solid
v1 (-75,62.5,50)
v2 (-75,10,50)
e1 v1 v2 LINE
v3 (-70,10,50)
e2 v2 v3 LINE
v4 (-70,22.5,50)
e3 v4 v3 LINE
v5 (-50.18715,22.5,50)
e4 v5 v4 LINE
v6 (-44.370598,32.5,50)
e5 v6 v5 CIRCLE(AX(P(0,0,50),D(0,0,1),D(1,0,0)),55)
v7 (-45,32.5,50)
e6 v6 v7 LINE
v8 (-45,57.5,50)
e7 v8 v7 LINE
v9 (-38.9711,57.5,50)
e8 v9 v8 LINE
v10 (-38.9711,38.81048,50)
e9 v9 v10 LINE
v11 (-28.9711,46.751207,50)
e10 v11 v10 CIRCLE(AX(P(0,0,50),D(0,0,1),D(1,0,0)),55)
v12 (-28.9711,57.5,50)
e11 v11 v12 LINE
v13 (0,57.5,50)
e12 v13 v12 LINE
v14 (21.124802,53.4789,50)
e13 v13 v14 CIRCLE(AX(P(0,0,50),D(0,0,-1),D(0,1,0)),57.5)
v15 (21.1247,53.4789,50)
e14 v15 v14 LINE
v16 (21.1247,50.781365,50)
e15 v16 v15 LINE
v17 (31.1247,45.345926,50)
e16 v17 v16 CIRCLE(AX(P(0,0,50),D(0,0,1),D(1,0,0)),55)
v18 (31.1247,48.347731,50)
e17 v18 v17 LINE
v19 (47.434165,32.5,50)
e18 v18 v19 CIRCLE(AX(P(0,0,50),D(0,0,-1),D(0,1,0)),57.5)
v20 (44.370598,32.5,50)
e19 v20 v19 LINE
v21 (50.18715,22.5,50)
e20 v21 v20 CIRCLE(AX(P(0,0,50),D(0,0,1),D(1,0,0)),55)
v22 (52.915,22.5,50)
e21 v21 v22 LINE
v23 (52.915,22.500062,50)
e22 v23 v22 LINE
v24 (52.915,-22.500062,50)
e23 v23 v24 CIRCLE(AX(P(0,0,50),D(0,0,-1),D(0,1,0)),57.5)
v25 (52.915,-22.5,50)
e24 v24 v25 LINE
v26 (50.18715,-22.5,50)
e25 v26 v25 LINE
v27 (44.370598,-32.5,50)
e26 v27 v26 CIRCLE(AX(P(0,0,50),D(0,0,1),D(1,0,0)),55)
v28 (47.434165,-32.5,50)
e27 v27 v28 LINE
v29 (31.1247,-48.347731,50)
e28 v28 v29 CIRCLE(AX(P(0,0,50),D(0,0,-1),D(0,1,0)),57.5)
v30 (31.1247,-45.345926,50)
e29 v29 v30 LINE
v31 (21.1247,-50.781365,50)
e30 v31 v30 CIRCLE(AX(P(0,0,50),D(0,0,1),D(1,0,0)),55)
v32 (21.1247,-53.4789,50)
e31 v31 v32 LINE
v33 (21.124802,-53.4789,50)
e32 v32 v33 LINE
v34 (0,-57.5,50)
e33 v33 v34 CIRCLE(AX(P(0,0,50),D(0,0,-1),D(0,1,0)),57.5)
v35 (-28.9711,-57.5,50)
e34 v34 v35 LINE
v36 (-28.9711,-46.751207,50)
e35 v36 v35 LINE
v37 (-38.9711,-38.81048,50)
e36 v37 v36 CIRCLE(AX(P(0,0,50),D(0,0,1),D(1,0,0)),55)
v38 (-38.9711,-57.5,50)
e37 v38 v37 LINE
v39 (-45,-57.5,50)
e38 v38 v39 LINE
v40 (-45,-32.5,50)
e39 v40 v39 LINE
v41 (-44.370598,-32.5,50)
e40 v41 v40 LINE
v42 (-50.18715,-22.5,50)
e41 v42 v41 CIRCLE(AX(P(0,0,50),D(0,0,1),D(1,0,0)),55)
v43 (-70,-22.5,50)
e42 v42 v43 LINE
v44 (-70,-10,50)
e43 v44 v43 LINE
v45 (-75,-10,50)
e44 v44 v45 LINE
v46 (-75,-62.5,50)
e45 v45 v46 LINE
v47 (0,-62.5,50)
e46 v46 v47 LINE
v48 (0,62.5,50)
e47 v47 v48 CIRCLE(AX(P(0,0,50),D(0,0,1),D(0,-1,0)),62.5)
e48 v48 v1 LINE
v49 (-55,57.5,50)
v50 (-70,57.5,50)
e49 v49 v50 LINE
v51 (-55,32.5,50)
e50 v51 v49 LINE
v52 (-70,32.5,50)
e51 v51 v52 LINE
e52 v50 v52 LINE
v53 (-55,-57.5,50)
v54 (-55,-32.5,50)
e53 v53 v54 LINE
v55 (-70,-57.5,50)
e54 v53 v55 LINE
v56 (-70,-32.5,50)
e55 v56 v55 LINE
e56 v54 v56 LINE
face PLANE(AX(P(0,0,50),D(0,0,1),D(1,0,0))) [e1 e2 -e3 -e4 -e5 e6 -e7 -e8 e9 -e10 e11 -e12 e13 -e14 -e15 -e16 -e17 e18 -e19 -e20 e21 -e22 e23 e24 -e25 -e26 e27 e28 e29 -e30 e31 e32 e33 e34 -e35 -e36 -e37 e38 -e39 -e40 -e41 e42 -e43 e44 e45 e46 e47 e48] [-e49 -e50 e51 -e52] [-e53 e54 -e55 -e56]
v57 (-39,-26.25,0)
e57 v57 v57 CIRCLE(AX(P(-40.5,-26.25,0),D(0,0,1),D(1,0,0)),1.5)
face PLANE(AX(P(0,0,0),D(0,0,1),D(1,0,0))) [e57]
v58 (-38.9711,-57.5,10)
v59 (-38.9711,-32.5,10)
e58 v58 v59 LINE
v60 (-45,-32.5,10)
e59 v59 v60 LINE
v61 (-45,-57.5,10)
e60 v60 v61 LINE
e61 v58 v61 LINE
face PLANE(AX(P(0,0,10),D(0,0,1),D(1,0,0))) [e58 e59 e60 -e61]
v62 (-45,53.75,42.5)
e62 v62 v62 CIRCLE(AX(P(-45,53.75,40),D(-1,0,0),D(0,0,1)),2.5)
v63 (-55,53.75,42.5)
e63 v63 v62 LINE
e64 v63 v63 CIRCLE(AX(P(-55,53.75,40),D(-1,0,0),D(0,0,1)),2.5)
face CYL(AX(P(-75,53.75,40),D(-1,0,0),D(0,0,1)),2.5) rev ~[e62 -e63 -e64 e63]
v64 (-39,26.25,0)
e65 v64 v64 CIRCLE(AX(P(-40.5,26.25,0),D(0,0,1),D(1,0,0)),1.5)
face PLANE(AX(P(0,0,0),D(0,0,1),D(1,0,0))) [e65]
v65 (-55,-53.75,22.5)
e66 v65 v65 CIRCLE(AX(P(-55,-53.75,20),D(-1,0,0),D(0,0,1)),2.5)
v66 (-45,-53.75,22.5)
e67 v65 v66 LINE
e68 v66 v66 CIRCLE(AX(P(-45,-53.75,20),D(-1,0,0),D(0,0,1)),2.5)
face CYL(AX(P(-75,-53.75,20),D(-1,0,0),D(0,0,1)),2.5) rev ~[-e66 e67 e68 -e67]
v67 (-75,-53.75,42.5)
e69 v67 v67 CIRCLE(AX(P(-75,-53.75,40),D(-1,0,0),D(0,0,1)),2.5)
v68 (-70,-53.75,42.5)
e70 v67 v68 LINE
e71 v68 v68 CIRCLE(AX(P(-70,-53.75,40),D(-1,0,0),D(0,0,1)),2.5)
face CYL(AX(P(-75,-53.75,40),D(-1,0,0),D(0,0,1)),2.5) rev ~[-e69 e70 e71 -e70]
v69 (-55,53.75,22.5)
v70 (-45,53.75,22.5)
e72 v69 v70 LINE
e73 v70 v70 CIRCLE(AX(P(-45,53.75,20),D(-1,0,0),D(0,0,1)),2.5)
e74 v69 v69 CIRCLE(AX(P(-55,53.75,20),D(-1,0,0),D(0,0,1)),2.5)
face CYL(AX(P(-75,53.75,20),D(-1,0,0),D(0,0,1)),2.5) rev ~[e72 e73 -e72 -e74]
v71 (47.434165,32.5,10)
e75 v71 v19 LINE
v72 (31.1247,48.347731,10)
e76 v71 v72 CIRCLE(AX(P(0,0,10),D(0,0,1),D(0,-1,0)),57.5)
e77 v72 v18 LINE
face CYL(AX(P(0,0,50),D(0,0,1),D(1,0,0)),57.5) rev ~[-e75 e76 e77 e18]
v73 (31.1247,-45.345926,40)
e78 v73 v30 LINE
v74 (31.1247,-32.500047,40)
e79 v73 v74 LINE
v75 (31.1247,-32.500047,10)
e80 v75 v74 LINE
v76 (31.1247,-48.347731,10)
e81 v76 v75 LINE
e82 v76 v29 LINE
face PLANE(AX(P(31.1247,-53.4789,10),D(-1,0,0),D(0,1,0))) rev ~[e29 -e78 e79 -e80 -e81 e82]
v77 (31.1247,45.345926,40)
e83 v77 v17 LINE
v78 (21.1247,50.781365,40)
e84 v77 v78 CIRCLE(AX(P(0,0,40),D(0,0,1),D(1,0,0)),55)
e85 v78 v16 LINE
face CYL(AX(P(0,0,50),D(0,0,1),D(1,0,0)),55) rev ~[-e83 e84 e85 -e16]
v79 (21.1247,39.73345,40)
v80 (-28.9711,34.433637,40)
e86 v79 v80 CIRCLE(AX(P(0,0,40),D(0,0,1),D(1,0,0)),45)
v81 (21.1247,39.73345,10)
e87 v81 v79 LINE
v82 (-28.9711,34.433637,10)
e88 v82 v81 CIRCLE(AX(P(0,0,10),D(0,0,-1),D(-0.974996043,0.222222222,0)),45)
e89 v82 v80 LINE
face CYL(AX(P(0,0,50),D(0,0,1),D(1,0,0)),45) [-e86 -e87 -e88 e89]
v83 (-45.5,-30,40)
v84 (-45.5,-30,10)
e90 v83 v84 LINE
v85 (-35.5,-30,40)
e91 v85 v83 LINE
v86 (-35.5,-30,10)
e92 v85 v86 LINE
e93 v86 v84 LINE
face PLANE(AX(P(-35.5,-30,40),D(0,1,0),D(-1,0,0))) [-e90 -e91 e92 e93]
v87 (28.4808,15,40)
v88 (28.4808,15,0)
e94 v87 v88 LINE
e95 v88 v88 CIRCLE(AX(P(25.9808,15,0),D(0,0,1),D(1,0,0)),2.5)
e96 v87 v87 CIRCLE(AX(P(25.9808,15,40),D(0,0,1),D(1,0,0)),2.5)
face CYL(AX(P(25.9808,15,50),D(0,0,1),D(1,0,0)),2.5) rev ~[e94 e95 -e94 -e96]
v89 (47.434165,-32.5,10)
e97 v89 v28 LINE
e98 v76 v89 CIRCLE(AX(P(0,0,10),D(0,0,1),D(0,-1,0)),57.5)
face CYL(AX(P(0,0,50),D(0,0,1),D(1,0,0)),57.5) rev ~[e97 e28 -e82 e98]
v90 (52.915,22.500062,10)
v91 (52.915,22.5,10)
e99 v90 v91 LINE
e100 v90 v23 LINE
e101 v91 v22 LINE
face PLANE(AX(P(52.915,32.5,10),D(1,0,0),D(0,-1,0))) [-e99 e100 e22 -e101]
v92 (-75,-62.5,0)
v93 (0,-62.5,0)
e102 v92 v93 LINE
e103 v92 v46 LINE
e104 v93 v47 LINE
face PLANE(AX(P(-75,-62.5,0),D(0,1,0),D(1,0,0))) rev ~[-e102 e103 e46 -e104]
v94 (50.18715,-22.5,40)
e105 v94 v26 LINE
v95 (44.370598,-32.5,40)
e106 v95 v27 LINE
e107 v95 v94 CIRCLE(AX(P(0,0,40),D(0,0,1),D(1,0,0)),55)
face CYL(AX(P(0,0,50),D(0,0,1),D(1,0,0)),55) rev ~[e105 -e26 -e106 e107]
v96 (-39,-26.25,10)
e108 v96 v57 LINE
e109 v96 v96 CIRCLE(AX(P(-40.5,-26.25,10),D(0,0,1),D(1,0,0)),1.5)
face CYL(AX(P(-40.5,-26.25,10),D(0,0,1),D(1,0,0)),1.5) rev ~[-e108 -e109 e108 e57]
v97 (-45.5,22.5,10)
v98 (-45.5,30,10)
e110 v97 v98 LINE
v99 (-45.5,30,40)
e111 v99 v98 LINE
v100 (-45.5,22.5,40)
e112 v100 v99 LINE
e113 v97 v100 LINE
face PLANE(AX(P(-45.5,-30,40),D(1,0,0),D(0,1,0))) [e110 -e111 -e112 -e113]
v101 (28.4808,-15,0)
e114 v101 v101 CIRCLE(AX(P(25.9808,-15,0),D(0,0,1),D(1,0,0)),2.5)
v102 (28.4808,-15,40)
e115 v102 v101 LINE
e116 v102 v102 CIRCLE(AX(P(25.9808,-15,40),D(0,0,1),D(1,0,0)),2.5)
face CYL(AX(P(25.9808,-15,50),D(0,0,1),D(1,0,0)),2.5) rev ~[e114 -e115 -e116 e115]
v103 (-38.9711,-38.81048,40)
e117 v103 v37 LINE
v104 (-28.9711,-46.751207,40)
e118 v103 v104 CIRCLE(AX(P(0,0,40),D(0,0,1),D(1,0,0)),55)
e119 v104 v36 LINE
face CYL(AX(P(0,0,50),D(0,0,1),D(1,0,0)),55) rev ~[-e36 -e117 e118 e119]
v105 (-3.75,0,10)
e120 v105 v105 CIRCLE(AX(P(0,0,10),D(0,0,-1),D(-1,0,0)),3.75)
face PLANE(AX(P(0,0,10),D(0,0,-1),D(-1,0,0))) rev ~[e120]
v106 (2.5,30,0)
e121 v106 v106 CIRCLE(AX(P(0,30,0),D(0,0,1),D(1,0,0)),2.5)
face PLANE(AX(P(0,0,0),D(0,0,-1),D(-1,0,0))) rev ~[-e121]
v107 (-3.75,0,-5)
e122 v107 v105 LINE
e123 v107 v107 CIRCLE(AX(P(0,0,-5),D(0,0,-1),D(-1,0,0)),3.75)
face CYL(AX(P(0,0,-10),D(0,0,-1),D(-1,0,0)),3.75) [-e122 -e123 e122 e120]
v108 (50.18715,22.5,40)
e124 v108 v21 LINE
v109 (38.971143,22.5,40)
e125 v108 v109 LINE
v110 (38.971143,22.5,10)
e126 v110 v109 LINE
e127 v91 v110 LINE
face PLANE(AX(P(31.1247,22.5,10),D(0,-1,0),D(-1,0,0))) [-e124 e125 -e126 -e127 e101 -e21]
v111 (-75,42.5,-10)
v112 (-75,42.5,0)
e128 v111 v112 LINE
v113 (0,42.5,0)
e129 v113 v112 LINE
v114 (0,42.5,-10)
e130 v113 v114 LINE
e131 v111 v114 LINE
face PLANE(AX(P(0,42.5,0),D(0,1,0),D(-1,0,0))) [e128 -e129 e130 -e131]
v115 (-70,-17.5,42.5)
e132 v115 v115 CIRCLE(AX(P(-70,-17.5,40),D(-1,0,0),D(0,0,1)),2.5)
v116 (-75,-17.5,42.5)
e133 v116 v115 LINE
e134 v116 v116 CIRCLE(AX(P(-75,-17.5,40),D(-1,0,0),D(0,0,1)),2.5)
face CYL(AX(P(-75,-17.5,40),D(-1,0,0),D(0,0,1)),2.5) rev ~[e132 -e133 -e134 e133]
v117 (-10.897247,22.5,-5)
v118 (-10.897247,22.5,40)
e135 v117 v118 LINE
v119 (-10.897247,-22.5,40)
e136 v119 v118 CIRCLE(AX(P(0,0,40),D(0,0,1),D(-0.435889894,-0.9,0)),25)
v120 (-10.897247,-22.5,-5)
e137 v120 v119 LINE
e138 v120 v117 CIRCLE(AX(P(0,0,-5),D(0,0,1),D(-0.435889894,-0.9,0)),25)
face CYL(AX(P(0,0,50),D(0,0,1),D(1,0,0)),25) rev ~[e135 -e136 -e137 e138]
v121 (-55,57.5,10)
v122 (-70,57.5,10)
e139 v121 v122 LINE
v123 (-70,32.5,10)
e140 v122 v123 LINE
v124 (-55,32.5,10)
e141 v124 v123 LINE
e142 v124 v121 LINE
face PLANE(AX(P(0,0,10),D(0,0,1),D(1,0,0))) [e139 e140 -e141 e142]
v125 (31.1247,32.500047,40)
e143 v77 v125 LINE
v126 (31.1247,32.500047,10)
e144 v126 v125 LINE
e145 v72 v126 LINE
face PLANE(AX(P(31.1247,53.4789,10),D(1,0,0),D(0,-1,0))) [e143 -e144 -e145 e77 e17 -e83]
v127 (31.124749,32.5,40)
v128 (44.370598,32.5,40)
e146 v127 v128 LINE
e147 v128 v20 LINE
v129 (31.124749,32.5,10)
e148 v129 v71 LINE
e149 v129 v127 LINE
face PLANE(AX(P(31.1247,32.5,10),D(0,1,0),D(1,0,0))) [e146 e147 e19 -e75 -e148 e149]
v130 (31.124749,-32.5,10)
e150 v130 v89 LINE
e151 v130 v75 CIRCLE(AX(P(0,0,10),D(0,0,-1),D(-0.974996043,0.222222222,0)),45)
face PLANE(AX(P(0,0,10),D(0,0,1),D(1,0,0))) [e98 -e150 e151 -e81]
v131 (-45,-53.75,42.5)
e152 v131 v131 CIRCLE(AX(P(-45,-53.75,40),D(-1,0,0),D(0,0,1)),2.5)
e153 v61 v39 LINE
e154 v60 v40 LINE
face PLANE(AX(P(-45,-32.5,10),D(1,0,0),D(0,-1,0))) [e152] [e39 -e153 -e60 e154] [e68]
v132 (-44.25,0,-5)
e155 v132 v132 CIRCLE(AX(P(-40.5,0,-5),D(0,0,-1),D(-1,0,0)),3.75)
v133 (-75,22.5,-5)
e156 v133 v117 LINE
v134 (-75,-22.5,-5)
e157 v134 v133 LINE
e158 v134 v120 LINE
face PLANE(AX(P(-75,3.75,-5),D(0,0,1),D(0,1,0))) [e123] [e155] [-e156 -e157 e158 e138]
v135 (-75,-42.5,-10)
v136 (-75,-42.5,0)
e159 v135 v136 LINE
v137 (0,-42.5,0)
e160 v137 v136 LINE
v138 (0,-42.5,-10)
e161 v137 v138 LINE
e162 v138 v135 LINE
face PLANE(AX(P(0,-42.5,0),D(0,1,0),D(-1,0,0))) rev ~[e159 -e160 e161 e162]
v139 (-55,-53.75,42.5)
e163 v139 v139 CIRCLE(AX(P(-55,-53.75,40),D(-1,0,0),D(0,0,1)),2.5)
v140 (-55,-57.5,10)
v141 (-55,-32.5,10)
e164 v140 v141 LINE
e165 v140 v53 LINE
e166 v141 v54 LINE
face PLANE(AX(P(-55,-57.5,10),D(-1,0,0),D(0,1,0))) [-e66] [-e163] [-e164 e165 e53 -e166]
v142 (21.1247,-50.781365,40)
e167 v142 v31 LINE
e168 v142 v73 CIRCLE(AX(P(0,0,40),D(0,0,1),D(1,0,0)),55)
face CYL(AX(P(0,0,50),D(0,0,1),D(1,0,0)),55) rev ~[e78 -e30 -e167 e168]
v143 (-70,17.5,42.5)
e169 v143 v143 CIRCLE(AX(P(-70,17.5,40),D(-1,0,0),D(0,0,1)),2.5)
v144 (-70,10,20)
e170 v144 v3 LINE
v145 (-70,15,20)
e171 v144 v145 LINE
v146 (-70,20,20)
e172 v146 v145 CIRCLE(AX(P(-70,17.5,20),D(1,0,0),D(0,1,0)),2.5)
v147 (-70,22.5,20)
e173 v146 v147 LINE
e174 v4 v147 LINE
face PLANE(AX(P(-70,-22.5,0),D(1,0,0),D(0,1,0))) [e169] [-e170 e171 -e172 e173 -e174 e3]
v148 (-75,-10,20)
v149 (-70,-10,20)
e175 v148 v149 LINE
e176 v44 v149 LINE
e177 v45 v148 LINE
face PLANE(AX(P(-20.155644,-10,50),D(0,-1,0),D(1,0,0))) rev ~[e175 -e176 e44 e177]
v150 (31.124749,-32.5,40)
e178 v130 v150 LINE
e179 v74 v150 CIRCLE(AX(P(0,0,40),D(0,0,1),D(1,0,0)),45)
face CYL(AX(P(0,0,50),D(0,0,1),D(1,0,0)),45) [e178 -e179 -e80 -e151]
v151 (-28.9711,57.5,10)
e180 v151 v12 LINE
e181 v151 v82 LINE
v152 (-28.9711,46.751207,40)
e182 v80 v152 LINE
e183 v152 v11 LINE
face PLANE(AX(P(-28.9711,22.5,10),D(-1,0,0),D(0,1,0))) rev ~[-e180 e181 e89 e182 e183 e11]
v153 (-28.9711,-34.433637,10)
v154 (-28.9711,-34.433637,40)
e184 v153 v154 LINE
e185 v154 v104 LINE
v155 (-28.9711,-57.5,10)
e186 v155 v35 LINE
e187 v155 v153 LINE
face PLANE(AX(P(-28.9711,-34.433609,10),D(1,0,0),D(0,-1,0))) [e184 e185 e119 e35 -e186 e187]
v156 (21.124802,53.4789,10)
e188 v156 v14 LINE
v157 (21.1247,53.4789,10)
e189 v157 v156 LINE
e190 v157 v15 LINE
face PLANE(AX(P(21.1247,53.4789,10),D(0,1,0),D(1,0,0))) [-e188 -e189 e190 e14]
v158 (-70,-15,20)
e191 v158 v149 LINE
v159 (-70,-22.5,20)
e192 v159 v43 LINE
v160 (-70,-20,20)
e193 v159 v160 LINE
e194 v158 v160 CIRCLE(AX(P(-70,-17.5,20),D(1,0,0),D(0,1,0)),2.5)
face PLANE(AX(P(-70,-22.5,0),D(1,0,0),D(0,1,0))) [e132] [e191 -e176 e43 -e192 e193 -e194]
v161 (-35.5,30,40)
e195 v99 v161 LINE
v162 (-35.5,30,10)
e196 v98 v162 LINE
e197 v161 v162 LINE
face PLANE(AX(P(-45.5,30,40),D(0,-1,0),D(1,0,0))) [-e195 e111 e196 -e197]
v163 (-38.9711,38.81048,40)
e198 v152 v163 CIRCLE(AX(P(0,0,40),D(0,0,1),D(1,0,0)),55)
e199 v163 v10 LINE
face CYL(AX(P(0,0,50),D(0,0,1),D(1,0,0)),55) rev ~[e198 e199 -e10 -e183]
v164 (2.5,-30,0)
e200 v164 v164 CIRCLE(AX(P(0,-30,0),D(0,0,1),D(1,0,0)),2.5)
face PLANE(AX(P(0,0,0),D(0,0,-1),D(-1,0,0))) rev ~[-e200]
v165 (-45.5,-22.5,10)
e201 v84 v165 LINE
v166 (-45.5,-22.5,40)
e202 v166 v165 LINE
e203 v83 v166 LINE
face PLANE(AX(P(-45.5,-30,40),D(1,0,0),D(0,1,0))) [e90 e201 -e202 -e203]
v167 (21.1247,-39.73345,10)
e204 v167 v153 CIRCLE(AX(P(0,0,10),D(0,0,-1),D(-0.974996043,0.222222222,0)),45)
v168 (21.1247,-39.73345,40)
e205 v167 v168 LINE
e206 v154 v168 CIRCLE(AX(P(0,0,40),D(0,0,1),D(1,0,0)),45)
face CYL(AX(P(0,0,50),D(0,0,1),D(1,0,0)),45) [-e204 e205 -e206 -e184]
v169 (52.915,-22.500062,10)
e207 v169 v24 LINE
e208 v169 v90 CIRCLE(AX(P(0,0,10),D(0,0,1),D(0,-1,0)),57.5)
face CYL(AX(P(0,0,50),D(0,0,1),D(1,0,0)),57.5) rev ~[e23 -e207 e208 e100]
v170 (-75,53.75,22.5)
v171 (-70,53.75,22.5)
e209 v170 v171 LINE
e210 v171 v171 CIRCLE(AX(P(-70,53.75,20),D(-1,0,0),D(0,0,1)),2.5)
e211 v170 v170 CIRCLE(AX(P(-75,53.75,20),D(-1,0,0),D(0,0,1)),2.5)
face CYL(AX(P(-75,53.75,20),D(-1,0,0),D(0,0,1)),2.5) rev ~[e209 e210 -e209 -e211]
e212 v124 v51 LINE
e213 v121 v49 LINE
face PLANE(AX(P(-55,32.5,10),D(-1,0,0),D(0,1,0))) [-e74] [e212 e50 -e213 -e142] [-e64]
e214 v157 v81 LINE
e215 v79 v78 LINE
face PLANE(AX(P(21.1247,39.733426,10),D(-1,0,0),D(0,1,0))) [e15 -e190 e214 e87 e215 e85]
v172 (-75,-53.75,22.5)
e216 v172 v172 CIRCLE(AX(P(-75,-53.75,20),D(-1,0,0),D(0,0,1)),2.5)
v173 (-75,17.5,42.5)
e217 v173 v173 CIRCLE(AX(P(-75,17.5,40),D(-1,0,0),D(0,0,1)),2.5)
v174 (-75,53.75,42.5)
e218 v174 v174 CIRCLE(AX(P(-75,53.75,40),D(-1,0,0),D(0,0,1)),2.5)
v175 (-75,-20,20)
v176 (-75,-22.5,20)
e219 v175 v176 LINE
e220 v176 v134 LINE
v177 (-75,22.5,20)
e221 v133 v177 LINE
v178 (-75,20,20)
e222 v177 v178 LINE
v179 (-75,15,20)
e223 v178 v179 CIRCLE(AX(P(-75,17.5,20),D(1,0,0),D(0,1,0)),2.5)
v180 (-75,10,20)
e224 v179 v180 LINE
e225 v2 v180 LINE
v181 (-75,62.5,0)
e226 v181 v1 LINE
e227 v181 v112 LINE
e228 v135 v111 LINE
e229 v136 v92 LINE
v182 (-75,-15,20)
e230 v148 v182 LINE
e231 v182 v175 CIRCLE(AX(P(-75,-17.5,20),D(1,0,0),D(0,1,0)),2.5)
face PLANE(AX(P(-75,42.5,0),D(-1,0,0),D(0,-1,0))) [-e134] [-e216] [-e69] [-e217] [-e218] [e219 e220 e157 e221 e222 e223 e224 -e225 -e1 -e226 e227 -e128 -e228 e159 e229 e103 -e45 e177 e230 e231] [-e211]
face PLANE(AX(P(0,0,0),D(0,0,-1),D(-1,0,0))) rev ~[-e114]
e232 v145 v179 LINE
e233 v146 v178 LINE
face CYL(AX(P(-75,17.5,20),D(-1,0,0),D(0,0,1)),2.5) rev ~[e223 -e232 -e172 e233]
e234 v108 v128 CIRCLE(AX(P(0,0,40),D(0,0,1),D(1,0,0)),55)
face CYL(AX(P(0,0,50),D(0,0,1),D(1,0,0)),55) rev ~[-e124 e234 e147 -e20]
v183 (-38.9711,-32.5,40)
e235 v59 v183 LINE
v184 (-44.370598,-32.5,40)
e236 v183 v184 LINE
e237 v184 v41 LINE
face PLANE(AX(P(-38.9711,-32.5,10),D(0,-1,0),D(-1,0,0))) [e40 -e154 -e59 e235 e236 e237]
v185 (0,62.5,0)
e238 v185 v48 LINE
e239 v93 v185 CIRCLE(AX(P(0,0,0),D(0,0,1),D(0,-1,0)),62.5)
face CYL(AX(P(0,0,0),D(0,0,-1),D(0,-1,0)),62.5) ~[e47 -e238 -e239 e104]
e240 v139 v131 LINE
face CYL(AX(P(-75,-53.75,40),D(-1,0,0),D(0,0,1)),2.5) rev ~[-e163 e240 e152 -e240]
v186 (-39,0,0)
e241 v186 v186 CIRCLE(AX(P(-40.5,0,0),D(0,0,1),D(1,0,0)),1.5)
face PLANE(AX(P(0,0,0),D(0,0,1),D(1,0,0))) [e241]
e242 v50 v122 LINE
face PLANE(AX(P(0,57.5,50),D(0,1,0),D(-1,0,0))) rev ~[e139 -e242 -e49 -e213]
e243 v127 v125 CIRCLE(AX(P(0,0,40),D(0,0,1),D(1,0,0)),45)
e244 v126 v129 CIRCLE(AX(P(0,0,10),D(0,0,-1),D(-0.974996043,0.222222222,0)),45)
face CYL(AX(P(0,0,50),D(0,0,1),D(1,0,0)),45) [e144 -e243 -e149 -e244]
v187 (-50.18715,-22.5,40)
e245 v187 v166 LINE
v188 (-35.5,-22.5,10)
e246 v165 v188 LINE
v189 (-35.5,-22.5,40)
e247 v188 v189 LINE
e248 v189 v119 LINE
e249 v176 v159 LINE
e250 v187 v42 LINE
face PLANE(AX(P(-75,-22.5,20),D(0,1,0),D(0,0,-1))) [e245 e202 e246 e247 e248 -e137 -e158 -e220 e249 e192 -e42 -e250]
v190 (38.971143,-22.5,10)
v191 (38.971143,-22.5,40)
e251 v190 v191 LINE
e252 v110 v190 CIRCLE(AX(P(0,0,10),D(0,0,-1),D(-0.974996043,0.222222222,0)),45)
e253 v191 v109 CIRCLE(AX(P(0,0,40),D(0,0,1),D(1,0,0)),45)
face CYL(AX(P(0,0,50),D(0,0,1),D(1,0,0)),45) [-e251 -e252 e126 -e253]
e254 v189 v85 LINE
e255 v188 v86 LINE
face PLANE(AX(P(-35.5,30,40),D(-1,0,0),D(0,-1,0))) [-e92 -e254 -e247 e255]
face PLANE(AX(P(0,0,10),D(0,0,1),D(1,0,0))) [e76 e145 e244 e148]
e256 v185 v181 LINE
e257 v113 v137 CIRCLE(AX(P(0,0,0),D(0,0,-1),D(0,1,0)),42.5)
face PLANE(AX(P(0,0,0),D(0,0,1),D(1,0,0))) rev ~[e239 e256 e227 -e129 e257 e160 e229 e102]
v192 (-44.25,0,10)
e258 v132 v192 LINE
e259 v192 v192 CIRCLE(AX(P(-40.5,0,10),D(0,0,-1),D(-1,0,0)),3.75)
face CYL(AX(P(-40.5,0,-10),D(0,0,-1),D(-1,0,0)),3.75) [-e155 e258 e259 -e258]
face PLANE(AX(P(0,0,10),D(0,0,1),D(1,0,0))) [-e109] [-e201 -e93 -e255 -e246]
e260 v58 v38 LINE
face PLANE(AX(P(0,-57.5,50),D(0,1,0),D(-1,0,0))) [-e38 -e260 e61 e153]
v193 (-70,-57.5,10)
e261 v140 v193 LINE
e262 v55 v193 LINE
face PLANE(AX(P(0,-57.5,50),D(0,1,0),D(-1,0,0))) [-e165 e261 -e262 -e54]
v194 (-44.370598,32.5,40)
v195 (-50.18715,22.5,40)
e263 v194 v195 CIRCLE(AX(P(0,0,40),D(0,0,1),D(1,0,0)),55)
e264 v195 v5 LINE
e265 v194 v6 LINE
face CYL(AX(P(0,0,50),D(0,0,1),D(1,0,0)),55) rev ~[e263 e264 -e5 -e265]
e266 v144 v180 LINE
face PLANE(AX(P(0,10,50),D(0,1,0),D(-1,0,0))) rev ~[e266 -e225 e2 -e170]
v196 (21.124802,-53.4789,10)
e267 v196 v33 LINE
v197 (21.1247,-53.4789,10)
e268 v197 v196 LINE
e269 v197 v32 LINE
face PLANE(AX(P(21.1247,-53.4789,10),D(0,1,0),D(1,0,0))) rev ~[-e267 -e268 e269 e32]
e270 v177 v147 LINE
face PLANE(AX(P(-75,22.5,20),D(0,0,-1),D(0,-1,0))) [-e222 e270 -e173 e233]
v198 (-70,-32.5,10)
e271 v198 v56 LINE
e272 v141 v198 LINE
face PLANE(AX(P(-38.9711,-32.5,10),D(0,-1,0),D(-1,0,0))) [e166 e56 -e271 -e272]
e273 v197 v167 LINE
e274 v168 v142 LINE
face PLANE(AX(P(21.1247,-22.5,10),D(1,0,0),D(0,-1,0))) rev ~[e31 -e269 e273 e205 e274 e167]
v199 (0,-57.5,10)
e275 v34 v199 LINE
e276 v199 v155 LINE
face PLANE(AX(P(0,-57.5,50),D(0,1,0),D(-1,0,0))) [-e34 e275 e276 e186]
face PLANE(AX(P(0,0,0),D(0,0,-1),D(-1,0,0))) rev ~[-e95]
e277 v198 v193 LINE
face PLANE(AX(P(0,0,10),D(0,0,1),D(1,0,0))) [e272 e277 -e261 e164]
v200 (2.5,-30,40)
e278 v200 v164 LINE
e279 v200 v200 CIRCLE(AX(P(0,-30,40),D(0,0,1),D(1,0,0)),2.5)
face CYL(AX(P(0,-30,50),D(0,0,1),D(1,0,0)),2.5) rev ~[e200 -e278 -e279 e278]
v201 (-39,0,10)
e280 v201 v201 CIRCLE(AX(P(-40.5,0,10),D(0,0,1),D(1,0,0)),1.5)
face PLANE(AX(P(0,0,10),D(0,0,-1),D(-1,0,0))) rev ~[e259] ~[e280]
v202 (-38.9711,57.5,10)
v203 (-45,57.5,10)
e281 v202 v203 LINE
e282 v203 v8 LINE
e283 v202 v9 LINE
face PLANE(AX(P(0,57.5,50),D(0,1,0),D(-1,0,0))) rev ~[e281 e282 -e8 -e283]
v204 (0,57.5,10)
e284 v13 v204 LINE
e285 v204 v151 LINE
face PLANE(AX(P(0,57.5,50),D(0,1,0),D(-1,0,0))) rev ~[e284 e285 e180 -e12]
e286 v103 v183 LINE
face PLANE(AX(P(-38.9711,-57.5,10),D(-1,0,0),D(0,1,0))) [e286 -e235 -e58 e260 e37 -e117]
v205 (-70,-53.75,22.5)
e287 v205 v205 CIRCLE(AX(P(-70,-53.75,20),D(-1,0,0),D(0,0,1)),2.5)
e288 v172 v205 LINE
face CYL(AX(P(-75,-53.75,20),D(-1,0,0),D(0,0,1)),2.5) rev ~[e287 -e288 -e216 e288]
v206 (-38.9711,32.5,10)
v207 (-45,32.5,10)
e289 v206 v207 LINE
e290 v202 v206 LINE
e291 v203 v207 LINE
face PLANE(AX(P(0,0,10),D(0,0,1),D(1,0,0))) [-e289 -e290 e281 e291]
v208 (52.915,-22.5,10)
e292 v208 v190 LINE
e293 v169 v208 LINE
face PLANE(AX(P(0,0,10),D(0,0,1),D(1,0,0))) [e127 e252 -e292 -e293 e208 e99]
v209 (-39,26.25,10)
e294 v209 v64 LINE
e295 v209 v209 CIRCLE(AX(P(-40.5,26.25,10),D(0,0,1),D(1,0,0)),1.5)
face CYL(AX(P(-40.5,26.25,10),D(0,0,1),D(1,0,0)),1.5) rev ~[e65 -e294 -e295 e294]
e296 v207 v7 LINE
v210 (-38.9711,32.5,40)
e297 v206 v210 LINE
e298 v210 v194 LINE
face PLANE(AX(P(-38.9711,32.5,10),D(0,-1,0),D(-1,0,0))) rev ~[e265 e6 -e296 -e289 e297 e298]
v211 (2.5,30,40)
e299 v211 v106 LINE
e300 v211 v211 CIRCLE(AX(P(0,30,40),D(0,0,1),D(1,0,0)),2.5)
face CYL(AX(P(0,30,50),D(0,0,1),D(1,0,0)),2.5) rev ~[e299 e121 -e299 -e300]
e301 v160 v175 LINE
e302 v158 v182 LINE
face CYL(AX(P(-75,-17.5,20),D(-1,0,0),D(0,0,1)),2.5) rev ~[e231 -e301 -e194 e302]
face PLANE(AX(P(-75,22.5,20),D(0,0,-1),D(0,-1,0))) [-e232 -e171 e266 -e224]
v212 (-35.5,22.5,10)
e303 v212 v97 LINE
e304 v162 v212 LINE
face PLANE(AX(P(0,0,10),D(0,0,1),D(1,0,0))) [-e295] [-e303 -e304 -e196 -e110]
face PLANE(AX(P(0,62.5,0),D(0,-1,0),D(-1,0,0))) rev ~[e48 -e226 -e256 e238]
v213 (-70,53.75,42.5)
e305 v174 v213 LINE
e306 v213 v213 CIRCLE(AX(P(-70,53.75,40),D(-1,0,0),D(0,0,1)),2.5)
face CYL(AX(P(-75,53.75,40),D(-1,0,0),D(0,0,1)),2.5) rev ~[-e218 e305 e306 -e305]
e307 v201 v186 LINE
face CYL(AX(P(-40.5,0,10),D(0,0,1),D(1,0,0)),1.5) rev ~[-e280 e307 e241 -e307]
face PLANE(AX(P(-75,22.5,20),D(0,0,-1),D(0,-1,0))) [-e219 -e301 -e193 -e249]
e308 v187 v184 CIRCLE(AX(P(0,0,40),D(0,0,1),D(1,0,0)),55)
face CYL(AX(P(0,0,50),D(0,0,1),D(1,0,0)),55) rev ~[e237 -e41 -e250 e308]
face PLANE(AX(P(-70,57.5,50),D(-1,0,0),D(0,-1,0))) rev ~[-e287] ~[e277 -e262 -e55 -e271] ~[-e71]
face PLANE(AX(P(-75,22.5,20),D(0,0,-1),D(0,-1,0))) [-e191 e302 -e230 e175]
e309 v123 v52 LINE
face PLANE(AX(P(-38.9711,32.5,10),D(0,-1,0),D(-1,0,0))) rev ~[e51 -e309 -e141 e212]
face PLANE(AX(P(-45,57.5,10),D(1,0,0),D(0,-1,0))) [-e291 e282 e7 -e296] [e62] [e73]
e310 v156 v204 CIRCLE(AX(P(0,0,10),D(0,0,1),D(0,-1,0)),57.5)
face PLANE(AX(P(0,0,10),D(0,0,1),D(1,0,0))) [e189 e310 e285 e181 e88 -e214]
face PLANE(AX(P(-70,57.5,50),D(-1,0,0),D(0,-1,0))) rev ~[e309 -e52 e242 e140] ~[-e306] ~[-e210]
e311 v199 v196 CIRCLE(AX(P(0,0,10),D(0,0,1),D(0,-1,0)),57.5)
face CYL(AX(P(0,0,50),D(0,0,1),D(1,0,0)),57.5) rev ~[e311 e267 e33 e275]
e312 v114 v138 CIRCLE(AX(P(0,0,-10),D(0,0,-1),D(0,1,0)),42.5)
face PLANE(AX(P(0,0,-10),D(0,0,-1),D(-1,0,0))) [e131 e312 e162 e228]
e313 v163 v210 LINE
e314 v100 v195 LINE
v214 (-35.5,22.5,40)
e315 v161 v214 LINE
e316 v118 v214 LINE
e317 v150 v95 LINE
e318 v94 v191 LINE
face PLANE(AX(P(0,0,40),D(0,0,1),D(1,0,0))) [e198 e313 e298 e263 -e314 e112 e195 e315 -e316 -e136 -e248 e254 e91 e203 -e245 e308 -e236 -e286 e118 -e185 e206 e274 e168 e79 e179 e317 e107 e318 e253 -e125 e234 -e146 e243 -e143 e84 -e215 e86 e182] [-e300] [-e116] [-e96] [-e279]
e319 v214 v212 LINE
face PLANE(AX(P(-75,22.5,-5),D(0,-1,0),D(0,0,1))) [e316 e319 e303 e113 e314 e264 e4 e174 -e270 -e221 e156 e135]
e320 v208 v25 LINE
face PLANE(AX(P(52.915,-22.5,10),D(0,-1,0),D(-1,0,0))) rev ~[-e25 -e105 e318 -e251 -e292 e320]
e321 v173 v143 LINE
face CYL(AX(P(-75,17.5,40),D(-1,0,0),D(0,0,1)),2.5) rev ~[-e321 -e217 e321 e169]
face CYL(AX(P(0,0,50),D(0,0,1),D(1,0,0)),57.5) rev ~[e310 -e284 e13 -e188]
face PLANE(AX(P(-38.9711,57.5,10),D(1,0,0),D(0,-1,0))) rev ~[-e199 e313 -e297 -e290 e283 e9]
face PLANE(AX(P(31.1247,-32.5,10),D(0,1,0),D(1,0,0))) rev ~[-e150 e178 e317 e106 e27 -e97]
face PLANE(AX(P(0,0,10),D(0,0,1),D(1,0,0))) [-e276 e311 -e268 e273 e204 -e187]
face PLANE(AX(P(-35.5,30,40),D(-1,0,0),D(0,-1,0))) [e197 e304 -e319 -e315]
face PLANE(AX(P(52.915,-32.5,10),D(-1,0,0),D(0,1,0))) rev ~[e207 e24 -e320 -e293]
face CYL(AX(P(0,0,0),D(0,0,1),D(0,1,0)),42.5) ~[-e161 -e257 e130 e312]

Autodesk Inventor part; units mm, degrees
ref_plane "YZ Plane" through (0, 0, 0) normal (1, 0, 0) x (0, 1, 0)
ref_plane "XZ Plane" through (0, 0, 0) normal (0, 1, 0) x (-1, 0, 0)
ref_plane "XY Plane" through (0, 0, 0) normal (0, 0, 1) x (1, 0, 0)
sketch "Sketch1" plane through (0, 0, 0) normal (0, 0, 1) x (1, 0, 0)
  circle A0 centre (0, 0) radius 62.5 construction
  line L0 (0, 62.5) -> (-75, 62.5)
  line L1 (-75, 62.5) -> (-75, -62.5)
  line L2 (-75, -62.5) -> (0, -62.5)
  arc A1 (0, -62.5) -> (0, 62.5) centre (0, 0) ccw
  dimension "d0" = 125
  dimension "d1" = 75
extrude "Extrusion1" add sketch "Sketch1" along normal blind 50
sketch "Sketch6" plane through (0, 0, 50) normal (0, 0, 1) x (1, 0, 0)
  circle A0 centre (0, 0) radius 22.5
  arc A1 (0, -62.5) -> (0, 62.5) centre (0, 0) ccw projected
  dimension "d125" = 45
extrude "Extrusion6" cut sketch "Sketch6" against normal blind 40
sketch "Sketch7" plane through (0, 0, 50) normal (0, 0, 1) x (1, 0, 0)
  line L0 (0, 10) -> (-75, 10)
  line L1 (-75, 10) -> (-75, -10)
  line L2 (-75, -10) -> (0, -10)
  line L3 (0, -10) -> (0, 10)
  circle A0 centre (0, 0) radius 22.5 projected
  line L4 (-75, 62.5) -> (-75, -62.5) projected
  point P0 (-75, 0)
  dimension "d28" = 20
extrude "Extrusion7" cut sketch "Sketch7" against normal blind 40 contours L3 L2 A0 L0 | A0 L2 L1 L0 picked at (-7.5, 0)
sketch "Sketch9" plane through (0, 0, 50) normal (0, 0, 1) x (1, 0, 0)
  circle A0 centre (0, 30) radius 2.5
  circle A1 centre (-25.9808, 15) radius 2.5
  circle A2 centre (-25.9808, -15) radius 2.5
  circle A3 centre (0, -30) radius 2.5
  circle A4 centre (25.9808, -15) radius 2.5
  circle A5 centre (25.9808, 15) radius 2.5
  circle A6 centre (0, 0) radius 30 construction
  dimension "d123" = 60
  dimension "d35" = 5
  dimension "d39" = 360
extrude "Extrusion9" cut sketch "Sketch9" against normal through all
sketch "Sketch10" plane through (0, 0, 50) normal (0, 0, 1) x (1, 0, 0)
  circle A0 centre (0, 0) radius 45
  arc A1 (0, -57.5) -> (0, -57.5) centre (0, 0) ccw
  line L0 (0, -57.5) -> (-70, -57.5)
  line L1 (-70, 57.5) -> (-70, -57.5)
  line L2 (0, -57.5) -> (-75, -57.5)
  line L3 (0, 57.5) -> (-70, 57.5)
  circle A2 centre (0, 0) radius 57.5 construction
  arc A3 (0, -57.5) -> (0, 57.5) centre (0, 0) ccw
  line L4 (0, 62.5) -> (-75, 62.5) construction
  line L5 (-75, 62.5) -> (-75, 10) construction
  line L6 (-75, -10) -> (-75, 10) construction
  line L7 (-75, -10) -> (-75, -62.5) construction
  line L8 (-75, -62.5) -> (0, -62.5) construction
  arc A4 (0, -62.5) -> (0, 62.5) centre (0, 0) ccw construction
  point P0 (-70, 0)
  dimension "d111" = 115
  dimension "d43" = 90
  dimension "d114" = 90
  dimension "d124" = 5
  dimension "d212" = 5
  dimension "d213" = 5
extrude "Extrusion10" cut sketch "Sketch10" against normal blind 40
sketch "Sketch18" plane through (-75, -62.5, 0) normal (-1, 0, 0) x (0, 0, 1)
  circle A0 centre (40, 45) radius 2.5
  circle A1 centre (20, 45) radius 2.5
  line L0 (0, 125) -> (0, 0)
  circle A2 centre (40, 80) radius 2.5
  circle A3 centre (20, 80) radius 2.5
  circle A4 centre (20, 116.25) radius 2.5
  circle A5 centre (20, 8.75) radius 2.5
  circle A6 centre (40, 8.75) radius 2.5
  circle A7 centre (40, 116.25) radius 2.5
  line L1 (0, 125) -> (50, 125)
  line L2 (10, 87.5) -> (50, 87.5)
  line L3 (10, 52.5) -> (50, 52.5)
  line L4 (0, 0) -> (50, 0)
  line L5 (50, 52.5) -> (50, 37.5)
  point P0 (0, 62.5)
  dimension "d76" = 5
  dimension "d77" = 5
  dimension "d80" = 20
  dimension "d91" = 5
  dimension "d92" = 5
  dimension "d94" = 5
  dimension "d95" = 5
  dimension "d96" = 5
  dimension "d97" = 5
  dimension "d115" = 8.75
  dimension "d116" = 7.5
  dimension "d118" = 8.75
  dimension "d129" = 7.5
extrude "Extrusion39" cut sketch "Sketch18" against normal blind 10
sketch "Sketch46" plane through (0, 0, 10) normal (0, 0, 1) x (1, 0, 0)
  arc A0 (-43.8748, -10) -> (-43.8748, 10) centre (0, 0) ccw construction
  line L0 (-45, 22.5) -> (-70, 22.5)
  line L1 (-31.1247, 32.5) -> (-70, 32.5)
  line L2 (-70, 32.5) -> (-70, 22.5)
  line L3 (-70, 22.5) -> (-31.1247, 22.5)
  line L4 (-31.1247, 22.5) -> (-31.1247, 32.5)
  line L5 (-120.4871, 0) -> (150.4871, 0) construction
  line L6 (-95, 57.5) -> (0, 57.5) construction
  line L7 (-38.9711, 22.5) -> (-28.9711, 22.5)
  line L8 (-28.9711, 22.5) -> (-28.9711, 57.5)
  line L9 (-28.9711, 57.5) -> (-38.9711, 57.5)
  line L10 (-38.9711, 57.5) -> (-38.9711, 22.5)
  arc A1 (0, -57.5) -> (0, 57.5) centre (0, 0) ccw construction
  line L11 (31.1247, 32.5) -> (52.915, 32.5)
  line L12 (52.915, 32.5) -> (52.915, 22.5)
  line L13 (52.915, 22.5) -> (31.1247, 22.5)
  line L14 (31.1247, 22.5) -> (31.1247, 32.5)
  line L15 (31.1247, 22.5) -> (21.1247, 22.5)
  line L16 (21.1247, 22.5) -> (21.1247, 53.4789)
  line L17 (21.1247, 53.4789) -> (31.1247, 53.4789)
  line L18 (31.1247, 53.4789) -> (31.1247, 22.5)
  line L19 (-45, -22.5) -> (-70, -22.5)
  line L20 (-31.1247, -32.5) -> (-70, -32.5)
  line L21 (-70, -32.5) -> (-70, -22.5)
  line L22 (-70, -22.5) -> (-31.1247, -22.5)
  line L23 (-31.1247, -22.5) -> (-31.1247, -32.5)
  line L24 (-28.9711, -22.5) -> (-28.9711, -57.5)
  line L25 (-28.9711, -57.5) -> (-38.9711, -57.5)
  line L26 (-38.9711, -57.5) -> (-38.9711, -22.5)
  line L27 (31.1247, -32.5) -> (52.915, -32.5)
  line L28 (52.915, -32.5) -> (52.915, -22.5)
  line L29 (52.915, -22.5) -> (31.1247, -22.5)
  line L30 (31.1247, -22.5) -> (31.1247, -32.5)
  line L31 (31.1247, -22.5) -> (21.1247, -22.5)
  line L32 (21.1247, -22.5) -> (21.1247, -53.4789)
  line L33 (21.1247, -53.4789) -> (31.1247, -53.4789)
  line L34 (31.1247, -53.4789) -> (31.1247, -22.5)
  line L35 (-28.9711, -22.5) -> (-38.9711, -22.5)
  line L36 (-70, -22.5) -> (27.5, -22.5) construction
  line L37 (-70, 10) -> (-70, 57.5) construction
  arc A2 (-43.8748, -10) -> (-43.8748, 10) centre (0, 0) ccw projected
  line L38 (-50.5624, 22.5) -> (-50.5624, -22.5) construction
  point P0 (15, 0)
  point P1 (15, 0)
  point P2 (31.1247, 37.9895)
  point P3 (31.1247, -37.9895)
  point P4 (21.1247, 37.9895)
  point P5 (21.1247, -37.9895)
  point P6 (-50.5624, 0)
  dimension "d229" = 10
  dimension "d230" = 10
  dimension "d231" = 10
  dimension "d232" = 10
extrude "Extrusion44" add sketch "Sketch46" along normal blind 40
sketch "Sketch22" plane through (0, 0, 50) normal (0, 0, 1) x (1, 0, 0)
  arc A0 (0, -62.5) -> (0, 62.5) centre (0, 0) ccw projected
  circle A1 centre (0, 0) radius 55
  point P0 (0, 0)
  dimension "d122" = 110
extrude "Extrusion20" cut sketch "Sketch22" against normal blind 10
sketch "Sketch30" plane through (0, 0, 0) normal (0, 0, -1) x (-1, 0, 0)
  circle A0 centre (0, 0) radius 42.5 construction
  line L0 (0, 42.5) -> (75, 42.5)
  line L1 (75, 62.5) -> (75, -62.5) projected
  line L2 (0, -42.5) -> (75, -42.5)
  line L3 (75, 42.5) -> (75, -42.5)
  arc A1 (0, 42.5) -> (0, -42.5) centre (0, 0) ccw
  line L4 (70, 22.5) -> (0, 22.5)
  arc A2 (0, 22.5) -> (0, -22.5) centre (0, 0) ccw
  line L5 (0, -22.5) -> (70, -22.5)
  line L6 (70, -22.5) -> (70, 22.5)
  dimension "d162" = 85
  dimension "d201" = 45
  dimension "d202" = 5
extrude "Extrusion29" add sketch "Sketch30" along normal blind 5
sketch "Sketch32" plane through (0, 0, 0) normal (0, 0, -1) x (-1, 0, 0)
  arc A0 (0, 22.5) -> (0, -22.5) centre (0, 0) ccw projected
  circle A1 centre (0, 0) radius 22.5 construction
  line L0 (0, 22.5) -> (70, 22.5)
  line L1 (70, -22.5) -> (70, 22.5) projected
  line L2 (0, -22.5) -> (70, -22.5)
  line L3 (70, 22.5) -> (70, -22.5)
  arc A2 (0, 22.5) -> (0, -22.5) centre (0, 0) ccw
  point P0 (0, 0)
  dimension "d168" = 45
extrude "Extrusion30" cut sketch "Sketch32" against normal through all
sketch "Sketch33" plane through (0, 0, -5) normal (0, 0, -1) x (-1, 0, 0)
  line L0 (70, 22.5) -> (70, -22.5) projected
  line L1 (70, -22.5) -> (0, -22.5) projected
  arc A0 (0, 22.5) -> (0, -22.5) centre (0, 0) ccw projected
  line L2 (0, 22.5) -> (70, 22.5) projected
  arc A1 (0, 42.5) -> (0, -42.5) centre (0, 0) ccw projected
  line L3 (0, -42.5) -> (75, -42.5) projected
  line L4 (75, -42.5) -> (75, 42.5) projected
  line L5 (75, 42.5) -> (0, 42.5) projected
  point P0 (0, 0)
extrude "Extrusion31" add sketch "Sketch33" along normal blind 5 contours L0 L1 A0 L2 | L5 L4 L3 A1
sketch "Sketch42" plane through (0, 0, -10) normal (0, 0, -1) x (-1, 0, 0)
  arc A0 (0, 42.5) -> (0, -42.5) centre (0, 0) ccw projected
  line L0 (0, -42.5) -> (75, -42.5) projected
  line L1 (75, -42.5) -> (75, 42.5) projected
  line L2 (75, 42.5) -> (0, 42.5) projected
  point P0 (0, 0)
extrude "Extrusion41" [suppressed]
sketch "Sketch48" plane through (0, 0, 50) normal (0, 0, 1) x (1, 0, 0)
  arc A0 (0, -22.5) -> (0, 22.5) centre (0, 0) ccw
  circle A1 centre (0, 0) radius 25
  circle A2 centre (-40.5, 0) radius 4
  circle A3 centre (-40.5, 0) radius 25
  dimension "d238" = 50
  dimension "d241" = 50
extrude "Extrusion46" cut sketch "Sketch48" against normal blind 55 contours A1 A3 | A3 A1 | A2 picked at (11.2831, -1.8887) picked at (-18.8478, 1.728)
sketch "Sketch49" plane through (0, 0, -10) normal (0, 0, -1) x (-1, 0, 0)
  circle A0 centre (40.5, 0) radius 3.75 projected
  circle A1 centre (0, 0) radius 3.75 projected
extrude "Extrusion47" add sketch "Sketch49" against normal blind 20
sketch "Sketch51" plane through (0, 0, 40) normal (0, 0, 1) x (1, 0, 0)
  circle A0 centre (-40.5, 0) radius 3.75 projected
  line L0 (-45.5, 30) -> (-35.5, 30)
  line L1 (-35.5, 30) -> (-35.5, -30)
  line L2 (-35.5, -30) -> (-45.5, -30)
  line L3 (-45.5, -30) -> (-45.5, 30)
  point P0 (0, 0)
  point P1 (-35.5, 0)
  point P2 (-40.5, 30)
  dimension "d245" = 10
  dimension "d246" = 60
extrude "Extrusion48" cut sketch "Sketch51" against normal blind 30 contours A0 | L0 L1 L2 L3
sketch "Sketch52" plane through (0, 0, 10) normal (0, 0, 1) x (1, 0, 0)
  circle A0 centre (-40.5, 26.25) radius 1.5
  circle A1 centre (-40.5, 0) radius 3.75 construction
  circle A2 centre (-40.5, 0) radius 1.5
  circle A3 centre (-40.5, -26.25) radius 1.5
  line L0 (-35.5, 22.5) -> (-45.5, 22.5) construction
  line L1 (-35.5, 30) -> (-35.5, 22.5) construction
  line L2 (-45.5, 30) -> (-35.5, 30) construction
  line L3 (-45.5, 22.5) -> (-45.5, 30) construction
  line L4 (-45.5, -22.5) -> (-35.5, -22.5) construction
  line L5 (-45.5, -30) -> (-45.5, -22.5) construction
  line L6 (-35.5, -30) -> (-45.5, -30) construction
  line L7 (-35.5, -22.5) -> (-35.5, -30) construction
  point P0 (0, 0)
  point P1 (-45.5, 26.25)
  point P2 (-40.5, 30)
  point P3 (-45.5, -26.25)
  point P4 (-40.5, -22.5)
  dimension "d249" = 3
  dimension "d250" = 3
  dimension "d251" = 3
extrude "Extrusion49" cut sketch "Sketch52" against normal blind 10
sketch "Sketch53" plane through (0, 0, 10) normal (0, 0, 1) x (1, 0, 0)
  line L0 (-70, 57.5) -> (-38.9711, 57.5) projected
  line L1 (-70, 32.5) -> (-38.9711, 32.5) projected
  line L2 (-55, 57.5) -> (-45, 57.5)
  line L3 (-45, 57.5) -> (-45, 32.5)
  line L4 (-45, 32.5) -> (-55, 32.5)
  line L5 (-55, 32.5) -> (-55, 57.5)
  line L6 (-70, 32.5) -> (-70, 57.5) projected
  line L7 (-70, -32.5) -> (-44.3706, -32.5) projected
  line L8 (-38.9711, -57.5) -> (-70, -57.5) projected
  line L9 (-55, -32.5) -> (-45, -32.5)
  line L10 (-45, -32.5) -> (-45, -57.5)
  line L11 (-45, -57.5) -> (-55, -57.5)
  line L12 (-55, -57.5) -> (-55, -32.5)
  point P0 (0, 0)
  point P1 (-45, -45)
  point P2 (-45, 45)
  point P3 (-55, -45)
  point P4 (-55, 45)
  dimension "d254" = 10
  dimension "d255" = 15
extrude "Extrusion50" add sketch "Sketch53" along normal blind 40 contours L0 L3 L1 L5 | L7 L10 L8 L12
sketch "Sketch54" plane through (-75, 62.5, 0) normal (-1, 0, 0) x (0, 0, 1)
  circle A0 centre (40, -8.75) radius 2.5 projected
  circle A1 centre (20, -8.75) radius 2.5 projected
  circle A2 centre (40, -45) radius 2.5 projected
  circle A3 centre (20, -45) radius 2.5 projected
  circle A4 centre (40, -80) radius 2.5 projected
  circle A5 centre (20, -80) radius 2.5 projected
  circle A6 centre (20, -116.25) radius 2.5 projected
  circle A7 centre (40, -116.25) radius 2.5 projected
  point P0 (0, -62.5)
extrude "Extrusion51" cut sketch "Sketch54" against normal blind 30
sketch "Sketch56" plane through (-75, 62.5, 0) normal (-1, 0, 0) x (0, 0, 1)
  line L0 (-5, -40) -> (20, -40)
  line L1 (20, -40) -> (20, -85)
  line L2 (20, -85) -> (-5, -85)
  line L3 (-5, -85) -> (-5, -40)
  line L4 (-5, -58.75) -> (-5, -66.25) projected
  line L5 (-5, -58.75) -> (-5, -66.25) projected
  line L6 (-5, -40) -> (-5, -85) projected
  line L7 (-5, -40) -> (-5, -85) projected
  point P0 (-5, -62.5)
  point P1 (50, -40)
  point P2 (50, -85)
  point P3 (-5, -62.5)
  dimension "d264" = 30
extrude "Extrusion53" cut sketch "Sketch56" against normal blind 10
properties part number "SJ001" material "ABS Plastic"
